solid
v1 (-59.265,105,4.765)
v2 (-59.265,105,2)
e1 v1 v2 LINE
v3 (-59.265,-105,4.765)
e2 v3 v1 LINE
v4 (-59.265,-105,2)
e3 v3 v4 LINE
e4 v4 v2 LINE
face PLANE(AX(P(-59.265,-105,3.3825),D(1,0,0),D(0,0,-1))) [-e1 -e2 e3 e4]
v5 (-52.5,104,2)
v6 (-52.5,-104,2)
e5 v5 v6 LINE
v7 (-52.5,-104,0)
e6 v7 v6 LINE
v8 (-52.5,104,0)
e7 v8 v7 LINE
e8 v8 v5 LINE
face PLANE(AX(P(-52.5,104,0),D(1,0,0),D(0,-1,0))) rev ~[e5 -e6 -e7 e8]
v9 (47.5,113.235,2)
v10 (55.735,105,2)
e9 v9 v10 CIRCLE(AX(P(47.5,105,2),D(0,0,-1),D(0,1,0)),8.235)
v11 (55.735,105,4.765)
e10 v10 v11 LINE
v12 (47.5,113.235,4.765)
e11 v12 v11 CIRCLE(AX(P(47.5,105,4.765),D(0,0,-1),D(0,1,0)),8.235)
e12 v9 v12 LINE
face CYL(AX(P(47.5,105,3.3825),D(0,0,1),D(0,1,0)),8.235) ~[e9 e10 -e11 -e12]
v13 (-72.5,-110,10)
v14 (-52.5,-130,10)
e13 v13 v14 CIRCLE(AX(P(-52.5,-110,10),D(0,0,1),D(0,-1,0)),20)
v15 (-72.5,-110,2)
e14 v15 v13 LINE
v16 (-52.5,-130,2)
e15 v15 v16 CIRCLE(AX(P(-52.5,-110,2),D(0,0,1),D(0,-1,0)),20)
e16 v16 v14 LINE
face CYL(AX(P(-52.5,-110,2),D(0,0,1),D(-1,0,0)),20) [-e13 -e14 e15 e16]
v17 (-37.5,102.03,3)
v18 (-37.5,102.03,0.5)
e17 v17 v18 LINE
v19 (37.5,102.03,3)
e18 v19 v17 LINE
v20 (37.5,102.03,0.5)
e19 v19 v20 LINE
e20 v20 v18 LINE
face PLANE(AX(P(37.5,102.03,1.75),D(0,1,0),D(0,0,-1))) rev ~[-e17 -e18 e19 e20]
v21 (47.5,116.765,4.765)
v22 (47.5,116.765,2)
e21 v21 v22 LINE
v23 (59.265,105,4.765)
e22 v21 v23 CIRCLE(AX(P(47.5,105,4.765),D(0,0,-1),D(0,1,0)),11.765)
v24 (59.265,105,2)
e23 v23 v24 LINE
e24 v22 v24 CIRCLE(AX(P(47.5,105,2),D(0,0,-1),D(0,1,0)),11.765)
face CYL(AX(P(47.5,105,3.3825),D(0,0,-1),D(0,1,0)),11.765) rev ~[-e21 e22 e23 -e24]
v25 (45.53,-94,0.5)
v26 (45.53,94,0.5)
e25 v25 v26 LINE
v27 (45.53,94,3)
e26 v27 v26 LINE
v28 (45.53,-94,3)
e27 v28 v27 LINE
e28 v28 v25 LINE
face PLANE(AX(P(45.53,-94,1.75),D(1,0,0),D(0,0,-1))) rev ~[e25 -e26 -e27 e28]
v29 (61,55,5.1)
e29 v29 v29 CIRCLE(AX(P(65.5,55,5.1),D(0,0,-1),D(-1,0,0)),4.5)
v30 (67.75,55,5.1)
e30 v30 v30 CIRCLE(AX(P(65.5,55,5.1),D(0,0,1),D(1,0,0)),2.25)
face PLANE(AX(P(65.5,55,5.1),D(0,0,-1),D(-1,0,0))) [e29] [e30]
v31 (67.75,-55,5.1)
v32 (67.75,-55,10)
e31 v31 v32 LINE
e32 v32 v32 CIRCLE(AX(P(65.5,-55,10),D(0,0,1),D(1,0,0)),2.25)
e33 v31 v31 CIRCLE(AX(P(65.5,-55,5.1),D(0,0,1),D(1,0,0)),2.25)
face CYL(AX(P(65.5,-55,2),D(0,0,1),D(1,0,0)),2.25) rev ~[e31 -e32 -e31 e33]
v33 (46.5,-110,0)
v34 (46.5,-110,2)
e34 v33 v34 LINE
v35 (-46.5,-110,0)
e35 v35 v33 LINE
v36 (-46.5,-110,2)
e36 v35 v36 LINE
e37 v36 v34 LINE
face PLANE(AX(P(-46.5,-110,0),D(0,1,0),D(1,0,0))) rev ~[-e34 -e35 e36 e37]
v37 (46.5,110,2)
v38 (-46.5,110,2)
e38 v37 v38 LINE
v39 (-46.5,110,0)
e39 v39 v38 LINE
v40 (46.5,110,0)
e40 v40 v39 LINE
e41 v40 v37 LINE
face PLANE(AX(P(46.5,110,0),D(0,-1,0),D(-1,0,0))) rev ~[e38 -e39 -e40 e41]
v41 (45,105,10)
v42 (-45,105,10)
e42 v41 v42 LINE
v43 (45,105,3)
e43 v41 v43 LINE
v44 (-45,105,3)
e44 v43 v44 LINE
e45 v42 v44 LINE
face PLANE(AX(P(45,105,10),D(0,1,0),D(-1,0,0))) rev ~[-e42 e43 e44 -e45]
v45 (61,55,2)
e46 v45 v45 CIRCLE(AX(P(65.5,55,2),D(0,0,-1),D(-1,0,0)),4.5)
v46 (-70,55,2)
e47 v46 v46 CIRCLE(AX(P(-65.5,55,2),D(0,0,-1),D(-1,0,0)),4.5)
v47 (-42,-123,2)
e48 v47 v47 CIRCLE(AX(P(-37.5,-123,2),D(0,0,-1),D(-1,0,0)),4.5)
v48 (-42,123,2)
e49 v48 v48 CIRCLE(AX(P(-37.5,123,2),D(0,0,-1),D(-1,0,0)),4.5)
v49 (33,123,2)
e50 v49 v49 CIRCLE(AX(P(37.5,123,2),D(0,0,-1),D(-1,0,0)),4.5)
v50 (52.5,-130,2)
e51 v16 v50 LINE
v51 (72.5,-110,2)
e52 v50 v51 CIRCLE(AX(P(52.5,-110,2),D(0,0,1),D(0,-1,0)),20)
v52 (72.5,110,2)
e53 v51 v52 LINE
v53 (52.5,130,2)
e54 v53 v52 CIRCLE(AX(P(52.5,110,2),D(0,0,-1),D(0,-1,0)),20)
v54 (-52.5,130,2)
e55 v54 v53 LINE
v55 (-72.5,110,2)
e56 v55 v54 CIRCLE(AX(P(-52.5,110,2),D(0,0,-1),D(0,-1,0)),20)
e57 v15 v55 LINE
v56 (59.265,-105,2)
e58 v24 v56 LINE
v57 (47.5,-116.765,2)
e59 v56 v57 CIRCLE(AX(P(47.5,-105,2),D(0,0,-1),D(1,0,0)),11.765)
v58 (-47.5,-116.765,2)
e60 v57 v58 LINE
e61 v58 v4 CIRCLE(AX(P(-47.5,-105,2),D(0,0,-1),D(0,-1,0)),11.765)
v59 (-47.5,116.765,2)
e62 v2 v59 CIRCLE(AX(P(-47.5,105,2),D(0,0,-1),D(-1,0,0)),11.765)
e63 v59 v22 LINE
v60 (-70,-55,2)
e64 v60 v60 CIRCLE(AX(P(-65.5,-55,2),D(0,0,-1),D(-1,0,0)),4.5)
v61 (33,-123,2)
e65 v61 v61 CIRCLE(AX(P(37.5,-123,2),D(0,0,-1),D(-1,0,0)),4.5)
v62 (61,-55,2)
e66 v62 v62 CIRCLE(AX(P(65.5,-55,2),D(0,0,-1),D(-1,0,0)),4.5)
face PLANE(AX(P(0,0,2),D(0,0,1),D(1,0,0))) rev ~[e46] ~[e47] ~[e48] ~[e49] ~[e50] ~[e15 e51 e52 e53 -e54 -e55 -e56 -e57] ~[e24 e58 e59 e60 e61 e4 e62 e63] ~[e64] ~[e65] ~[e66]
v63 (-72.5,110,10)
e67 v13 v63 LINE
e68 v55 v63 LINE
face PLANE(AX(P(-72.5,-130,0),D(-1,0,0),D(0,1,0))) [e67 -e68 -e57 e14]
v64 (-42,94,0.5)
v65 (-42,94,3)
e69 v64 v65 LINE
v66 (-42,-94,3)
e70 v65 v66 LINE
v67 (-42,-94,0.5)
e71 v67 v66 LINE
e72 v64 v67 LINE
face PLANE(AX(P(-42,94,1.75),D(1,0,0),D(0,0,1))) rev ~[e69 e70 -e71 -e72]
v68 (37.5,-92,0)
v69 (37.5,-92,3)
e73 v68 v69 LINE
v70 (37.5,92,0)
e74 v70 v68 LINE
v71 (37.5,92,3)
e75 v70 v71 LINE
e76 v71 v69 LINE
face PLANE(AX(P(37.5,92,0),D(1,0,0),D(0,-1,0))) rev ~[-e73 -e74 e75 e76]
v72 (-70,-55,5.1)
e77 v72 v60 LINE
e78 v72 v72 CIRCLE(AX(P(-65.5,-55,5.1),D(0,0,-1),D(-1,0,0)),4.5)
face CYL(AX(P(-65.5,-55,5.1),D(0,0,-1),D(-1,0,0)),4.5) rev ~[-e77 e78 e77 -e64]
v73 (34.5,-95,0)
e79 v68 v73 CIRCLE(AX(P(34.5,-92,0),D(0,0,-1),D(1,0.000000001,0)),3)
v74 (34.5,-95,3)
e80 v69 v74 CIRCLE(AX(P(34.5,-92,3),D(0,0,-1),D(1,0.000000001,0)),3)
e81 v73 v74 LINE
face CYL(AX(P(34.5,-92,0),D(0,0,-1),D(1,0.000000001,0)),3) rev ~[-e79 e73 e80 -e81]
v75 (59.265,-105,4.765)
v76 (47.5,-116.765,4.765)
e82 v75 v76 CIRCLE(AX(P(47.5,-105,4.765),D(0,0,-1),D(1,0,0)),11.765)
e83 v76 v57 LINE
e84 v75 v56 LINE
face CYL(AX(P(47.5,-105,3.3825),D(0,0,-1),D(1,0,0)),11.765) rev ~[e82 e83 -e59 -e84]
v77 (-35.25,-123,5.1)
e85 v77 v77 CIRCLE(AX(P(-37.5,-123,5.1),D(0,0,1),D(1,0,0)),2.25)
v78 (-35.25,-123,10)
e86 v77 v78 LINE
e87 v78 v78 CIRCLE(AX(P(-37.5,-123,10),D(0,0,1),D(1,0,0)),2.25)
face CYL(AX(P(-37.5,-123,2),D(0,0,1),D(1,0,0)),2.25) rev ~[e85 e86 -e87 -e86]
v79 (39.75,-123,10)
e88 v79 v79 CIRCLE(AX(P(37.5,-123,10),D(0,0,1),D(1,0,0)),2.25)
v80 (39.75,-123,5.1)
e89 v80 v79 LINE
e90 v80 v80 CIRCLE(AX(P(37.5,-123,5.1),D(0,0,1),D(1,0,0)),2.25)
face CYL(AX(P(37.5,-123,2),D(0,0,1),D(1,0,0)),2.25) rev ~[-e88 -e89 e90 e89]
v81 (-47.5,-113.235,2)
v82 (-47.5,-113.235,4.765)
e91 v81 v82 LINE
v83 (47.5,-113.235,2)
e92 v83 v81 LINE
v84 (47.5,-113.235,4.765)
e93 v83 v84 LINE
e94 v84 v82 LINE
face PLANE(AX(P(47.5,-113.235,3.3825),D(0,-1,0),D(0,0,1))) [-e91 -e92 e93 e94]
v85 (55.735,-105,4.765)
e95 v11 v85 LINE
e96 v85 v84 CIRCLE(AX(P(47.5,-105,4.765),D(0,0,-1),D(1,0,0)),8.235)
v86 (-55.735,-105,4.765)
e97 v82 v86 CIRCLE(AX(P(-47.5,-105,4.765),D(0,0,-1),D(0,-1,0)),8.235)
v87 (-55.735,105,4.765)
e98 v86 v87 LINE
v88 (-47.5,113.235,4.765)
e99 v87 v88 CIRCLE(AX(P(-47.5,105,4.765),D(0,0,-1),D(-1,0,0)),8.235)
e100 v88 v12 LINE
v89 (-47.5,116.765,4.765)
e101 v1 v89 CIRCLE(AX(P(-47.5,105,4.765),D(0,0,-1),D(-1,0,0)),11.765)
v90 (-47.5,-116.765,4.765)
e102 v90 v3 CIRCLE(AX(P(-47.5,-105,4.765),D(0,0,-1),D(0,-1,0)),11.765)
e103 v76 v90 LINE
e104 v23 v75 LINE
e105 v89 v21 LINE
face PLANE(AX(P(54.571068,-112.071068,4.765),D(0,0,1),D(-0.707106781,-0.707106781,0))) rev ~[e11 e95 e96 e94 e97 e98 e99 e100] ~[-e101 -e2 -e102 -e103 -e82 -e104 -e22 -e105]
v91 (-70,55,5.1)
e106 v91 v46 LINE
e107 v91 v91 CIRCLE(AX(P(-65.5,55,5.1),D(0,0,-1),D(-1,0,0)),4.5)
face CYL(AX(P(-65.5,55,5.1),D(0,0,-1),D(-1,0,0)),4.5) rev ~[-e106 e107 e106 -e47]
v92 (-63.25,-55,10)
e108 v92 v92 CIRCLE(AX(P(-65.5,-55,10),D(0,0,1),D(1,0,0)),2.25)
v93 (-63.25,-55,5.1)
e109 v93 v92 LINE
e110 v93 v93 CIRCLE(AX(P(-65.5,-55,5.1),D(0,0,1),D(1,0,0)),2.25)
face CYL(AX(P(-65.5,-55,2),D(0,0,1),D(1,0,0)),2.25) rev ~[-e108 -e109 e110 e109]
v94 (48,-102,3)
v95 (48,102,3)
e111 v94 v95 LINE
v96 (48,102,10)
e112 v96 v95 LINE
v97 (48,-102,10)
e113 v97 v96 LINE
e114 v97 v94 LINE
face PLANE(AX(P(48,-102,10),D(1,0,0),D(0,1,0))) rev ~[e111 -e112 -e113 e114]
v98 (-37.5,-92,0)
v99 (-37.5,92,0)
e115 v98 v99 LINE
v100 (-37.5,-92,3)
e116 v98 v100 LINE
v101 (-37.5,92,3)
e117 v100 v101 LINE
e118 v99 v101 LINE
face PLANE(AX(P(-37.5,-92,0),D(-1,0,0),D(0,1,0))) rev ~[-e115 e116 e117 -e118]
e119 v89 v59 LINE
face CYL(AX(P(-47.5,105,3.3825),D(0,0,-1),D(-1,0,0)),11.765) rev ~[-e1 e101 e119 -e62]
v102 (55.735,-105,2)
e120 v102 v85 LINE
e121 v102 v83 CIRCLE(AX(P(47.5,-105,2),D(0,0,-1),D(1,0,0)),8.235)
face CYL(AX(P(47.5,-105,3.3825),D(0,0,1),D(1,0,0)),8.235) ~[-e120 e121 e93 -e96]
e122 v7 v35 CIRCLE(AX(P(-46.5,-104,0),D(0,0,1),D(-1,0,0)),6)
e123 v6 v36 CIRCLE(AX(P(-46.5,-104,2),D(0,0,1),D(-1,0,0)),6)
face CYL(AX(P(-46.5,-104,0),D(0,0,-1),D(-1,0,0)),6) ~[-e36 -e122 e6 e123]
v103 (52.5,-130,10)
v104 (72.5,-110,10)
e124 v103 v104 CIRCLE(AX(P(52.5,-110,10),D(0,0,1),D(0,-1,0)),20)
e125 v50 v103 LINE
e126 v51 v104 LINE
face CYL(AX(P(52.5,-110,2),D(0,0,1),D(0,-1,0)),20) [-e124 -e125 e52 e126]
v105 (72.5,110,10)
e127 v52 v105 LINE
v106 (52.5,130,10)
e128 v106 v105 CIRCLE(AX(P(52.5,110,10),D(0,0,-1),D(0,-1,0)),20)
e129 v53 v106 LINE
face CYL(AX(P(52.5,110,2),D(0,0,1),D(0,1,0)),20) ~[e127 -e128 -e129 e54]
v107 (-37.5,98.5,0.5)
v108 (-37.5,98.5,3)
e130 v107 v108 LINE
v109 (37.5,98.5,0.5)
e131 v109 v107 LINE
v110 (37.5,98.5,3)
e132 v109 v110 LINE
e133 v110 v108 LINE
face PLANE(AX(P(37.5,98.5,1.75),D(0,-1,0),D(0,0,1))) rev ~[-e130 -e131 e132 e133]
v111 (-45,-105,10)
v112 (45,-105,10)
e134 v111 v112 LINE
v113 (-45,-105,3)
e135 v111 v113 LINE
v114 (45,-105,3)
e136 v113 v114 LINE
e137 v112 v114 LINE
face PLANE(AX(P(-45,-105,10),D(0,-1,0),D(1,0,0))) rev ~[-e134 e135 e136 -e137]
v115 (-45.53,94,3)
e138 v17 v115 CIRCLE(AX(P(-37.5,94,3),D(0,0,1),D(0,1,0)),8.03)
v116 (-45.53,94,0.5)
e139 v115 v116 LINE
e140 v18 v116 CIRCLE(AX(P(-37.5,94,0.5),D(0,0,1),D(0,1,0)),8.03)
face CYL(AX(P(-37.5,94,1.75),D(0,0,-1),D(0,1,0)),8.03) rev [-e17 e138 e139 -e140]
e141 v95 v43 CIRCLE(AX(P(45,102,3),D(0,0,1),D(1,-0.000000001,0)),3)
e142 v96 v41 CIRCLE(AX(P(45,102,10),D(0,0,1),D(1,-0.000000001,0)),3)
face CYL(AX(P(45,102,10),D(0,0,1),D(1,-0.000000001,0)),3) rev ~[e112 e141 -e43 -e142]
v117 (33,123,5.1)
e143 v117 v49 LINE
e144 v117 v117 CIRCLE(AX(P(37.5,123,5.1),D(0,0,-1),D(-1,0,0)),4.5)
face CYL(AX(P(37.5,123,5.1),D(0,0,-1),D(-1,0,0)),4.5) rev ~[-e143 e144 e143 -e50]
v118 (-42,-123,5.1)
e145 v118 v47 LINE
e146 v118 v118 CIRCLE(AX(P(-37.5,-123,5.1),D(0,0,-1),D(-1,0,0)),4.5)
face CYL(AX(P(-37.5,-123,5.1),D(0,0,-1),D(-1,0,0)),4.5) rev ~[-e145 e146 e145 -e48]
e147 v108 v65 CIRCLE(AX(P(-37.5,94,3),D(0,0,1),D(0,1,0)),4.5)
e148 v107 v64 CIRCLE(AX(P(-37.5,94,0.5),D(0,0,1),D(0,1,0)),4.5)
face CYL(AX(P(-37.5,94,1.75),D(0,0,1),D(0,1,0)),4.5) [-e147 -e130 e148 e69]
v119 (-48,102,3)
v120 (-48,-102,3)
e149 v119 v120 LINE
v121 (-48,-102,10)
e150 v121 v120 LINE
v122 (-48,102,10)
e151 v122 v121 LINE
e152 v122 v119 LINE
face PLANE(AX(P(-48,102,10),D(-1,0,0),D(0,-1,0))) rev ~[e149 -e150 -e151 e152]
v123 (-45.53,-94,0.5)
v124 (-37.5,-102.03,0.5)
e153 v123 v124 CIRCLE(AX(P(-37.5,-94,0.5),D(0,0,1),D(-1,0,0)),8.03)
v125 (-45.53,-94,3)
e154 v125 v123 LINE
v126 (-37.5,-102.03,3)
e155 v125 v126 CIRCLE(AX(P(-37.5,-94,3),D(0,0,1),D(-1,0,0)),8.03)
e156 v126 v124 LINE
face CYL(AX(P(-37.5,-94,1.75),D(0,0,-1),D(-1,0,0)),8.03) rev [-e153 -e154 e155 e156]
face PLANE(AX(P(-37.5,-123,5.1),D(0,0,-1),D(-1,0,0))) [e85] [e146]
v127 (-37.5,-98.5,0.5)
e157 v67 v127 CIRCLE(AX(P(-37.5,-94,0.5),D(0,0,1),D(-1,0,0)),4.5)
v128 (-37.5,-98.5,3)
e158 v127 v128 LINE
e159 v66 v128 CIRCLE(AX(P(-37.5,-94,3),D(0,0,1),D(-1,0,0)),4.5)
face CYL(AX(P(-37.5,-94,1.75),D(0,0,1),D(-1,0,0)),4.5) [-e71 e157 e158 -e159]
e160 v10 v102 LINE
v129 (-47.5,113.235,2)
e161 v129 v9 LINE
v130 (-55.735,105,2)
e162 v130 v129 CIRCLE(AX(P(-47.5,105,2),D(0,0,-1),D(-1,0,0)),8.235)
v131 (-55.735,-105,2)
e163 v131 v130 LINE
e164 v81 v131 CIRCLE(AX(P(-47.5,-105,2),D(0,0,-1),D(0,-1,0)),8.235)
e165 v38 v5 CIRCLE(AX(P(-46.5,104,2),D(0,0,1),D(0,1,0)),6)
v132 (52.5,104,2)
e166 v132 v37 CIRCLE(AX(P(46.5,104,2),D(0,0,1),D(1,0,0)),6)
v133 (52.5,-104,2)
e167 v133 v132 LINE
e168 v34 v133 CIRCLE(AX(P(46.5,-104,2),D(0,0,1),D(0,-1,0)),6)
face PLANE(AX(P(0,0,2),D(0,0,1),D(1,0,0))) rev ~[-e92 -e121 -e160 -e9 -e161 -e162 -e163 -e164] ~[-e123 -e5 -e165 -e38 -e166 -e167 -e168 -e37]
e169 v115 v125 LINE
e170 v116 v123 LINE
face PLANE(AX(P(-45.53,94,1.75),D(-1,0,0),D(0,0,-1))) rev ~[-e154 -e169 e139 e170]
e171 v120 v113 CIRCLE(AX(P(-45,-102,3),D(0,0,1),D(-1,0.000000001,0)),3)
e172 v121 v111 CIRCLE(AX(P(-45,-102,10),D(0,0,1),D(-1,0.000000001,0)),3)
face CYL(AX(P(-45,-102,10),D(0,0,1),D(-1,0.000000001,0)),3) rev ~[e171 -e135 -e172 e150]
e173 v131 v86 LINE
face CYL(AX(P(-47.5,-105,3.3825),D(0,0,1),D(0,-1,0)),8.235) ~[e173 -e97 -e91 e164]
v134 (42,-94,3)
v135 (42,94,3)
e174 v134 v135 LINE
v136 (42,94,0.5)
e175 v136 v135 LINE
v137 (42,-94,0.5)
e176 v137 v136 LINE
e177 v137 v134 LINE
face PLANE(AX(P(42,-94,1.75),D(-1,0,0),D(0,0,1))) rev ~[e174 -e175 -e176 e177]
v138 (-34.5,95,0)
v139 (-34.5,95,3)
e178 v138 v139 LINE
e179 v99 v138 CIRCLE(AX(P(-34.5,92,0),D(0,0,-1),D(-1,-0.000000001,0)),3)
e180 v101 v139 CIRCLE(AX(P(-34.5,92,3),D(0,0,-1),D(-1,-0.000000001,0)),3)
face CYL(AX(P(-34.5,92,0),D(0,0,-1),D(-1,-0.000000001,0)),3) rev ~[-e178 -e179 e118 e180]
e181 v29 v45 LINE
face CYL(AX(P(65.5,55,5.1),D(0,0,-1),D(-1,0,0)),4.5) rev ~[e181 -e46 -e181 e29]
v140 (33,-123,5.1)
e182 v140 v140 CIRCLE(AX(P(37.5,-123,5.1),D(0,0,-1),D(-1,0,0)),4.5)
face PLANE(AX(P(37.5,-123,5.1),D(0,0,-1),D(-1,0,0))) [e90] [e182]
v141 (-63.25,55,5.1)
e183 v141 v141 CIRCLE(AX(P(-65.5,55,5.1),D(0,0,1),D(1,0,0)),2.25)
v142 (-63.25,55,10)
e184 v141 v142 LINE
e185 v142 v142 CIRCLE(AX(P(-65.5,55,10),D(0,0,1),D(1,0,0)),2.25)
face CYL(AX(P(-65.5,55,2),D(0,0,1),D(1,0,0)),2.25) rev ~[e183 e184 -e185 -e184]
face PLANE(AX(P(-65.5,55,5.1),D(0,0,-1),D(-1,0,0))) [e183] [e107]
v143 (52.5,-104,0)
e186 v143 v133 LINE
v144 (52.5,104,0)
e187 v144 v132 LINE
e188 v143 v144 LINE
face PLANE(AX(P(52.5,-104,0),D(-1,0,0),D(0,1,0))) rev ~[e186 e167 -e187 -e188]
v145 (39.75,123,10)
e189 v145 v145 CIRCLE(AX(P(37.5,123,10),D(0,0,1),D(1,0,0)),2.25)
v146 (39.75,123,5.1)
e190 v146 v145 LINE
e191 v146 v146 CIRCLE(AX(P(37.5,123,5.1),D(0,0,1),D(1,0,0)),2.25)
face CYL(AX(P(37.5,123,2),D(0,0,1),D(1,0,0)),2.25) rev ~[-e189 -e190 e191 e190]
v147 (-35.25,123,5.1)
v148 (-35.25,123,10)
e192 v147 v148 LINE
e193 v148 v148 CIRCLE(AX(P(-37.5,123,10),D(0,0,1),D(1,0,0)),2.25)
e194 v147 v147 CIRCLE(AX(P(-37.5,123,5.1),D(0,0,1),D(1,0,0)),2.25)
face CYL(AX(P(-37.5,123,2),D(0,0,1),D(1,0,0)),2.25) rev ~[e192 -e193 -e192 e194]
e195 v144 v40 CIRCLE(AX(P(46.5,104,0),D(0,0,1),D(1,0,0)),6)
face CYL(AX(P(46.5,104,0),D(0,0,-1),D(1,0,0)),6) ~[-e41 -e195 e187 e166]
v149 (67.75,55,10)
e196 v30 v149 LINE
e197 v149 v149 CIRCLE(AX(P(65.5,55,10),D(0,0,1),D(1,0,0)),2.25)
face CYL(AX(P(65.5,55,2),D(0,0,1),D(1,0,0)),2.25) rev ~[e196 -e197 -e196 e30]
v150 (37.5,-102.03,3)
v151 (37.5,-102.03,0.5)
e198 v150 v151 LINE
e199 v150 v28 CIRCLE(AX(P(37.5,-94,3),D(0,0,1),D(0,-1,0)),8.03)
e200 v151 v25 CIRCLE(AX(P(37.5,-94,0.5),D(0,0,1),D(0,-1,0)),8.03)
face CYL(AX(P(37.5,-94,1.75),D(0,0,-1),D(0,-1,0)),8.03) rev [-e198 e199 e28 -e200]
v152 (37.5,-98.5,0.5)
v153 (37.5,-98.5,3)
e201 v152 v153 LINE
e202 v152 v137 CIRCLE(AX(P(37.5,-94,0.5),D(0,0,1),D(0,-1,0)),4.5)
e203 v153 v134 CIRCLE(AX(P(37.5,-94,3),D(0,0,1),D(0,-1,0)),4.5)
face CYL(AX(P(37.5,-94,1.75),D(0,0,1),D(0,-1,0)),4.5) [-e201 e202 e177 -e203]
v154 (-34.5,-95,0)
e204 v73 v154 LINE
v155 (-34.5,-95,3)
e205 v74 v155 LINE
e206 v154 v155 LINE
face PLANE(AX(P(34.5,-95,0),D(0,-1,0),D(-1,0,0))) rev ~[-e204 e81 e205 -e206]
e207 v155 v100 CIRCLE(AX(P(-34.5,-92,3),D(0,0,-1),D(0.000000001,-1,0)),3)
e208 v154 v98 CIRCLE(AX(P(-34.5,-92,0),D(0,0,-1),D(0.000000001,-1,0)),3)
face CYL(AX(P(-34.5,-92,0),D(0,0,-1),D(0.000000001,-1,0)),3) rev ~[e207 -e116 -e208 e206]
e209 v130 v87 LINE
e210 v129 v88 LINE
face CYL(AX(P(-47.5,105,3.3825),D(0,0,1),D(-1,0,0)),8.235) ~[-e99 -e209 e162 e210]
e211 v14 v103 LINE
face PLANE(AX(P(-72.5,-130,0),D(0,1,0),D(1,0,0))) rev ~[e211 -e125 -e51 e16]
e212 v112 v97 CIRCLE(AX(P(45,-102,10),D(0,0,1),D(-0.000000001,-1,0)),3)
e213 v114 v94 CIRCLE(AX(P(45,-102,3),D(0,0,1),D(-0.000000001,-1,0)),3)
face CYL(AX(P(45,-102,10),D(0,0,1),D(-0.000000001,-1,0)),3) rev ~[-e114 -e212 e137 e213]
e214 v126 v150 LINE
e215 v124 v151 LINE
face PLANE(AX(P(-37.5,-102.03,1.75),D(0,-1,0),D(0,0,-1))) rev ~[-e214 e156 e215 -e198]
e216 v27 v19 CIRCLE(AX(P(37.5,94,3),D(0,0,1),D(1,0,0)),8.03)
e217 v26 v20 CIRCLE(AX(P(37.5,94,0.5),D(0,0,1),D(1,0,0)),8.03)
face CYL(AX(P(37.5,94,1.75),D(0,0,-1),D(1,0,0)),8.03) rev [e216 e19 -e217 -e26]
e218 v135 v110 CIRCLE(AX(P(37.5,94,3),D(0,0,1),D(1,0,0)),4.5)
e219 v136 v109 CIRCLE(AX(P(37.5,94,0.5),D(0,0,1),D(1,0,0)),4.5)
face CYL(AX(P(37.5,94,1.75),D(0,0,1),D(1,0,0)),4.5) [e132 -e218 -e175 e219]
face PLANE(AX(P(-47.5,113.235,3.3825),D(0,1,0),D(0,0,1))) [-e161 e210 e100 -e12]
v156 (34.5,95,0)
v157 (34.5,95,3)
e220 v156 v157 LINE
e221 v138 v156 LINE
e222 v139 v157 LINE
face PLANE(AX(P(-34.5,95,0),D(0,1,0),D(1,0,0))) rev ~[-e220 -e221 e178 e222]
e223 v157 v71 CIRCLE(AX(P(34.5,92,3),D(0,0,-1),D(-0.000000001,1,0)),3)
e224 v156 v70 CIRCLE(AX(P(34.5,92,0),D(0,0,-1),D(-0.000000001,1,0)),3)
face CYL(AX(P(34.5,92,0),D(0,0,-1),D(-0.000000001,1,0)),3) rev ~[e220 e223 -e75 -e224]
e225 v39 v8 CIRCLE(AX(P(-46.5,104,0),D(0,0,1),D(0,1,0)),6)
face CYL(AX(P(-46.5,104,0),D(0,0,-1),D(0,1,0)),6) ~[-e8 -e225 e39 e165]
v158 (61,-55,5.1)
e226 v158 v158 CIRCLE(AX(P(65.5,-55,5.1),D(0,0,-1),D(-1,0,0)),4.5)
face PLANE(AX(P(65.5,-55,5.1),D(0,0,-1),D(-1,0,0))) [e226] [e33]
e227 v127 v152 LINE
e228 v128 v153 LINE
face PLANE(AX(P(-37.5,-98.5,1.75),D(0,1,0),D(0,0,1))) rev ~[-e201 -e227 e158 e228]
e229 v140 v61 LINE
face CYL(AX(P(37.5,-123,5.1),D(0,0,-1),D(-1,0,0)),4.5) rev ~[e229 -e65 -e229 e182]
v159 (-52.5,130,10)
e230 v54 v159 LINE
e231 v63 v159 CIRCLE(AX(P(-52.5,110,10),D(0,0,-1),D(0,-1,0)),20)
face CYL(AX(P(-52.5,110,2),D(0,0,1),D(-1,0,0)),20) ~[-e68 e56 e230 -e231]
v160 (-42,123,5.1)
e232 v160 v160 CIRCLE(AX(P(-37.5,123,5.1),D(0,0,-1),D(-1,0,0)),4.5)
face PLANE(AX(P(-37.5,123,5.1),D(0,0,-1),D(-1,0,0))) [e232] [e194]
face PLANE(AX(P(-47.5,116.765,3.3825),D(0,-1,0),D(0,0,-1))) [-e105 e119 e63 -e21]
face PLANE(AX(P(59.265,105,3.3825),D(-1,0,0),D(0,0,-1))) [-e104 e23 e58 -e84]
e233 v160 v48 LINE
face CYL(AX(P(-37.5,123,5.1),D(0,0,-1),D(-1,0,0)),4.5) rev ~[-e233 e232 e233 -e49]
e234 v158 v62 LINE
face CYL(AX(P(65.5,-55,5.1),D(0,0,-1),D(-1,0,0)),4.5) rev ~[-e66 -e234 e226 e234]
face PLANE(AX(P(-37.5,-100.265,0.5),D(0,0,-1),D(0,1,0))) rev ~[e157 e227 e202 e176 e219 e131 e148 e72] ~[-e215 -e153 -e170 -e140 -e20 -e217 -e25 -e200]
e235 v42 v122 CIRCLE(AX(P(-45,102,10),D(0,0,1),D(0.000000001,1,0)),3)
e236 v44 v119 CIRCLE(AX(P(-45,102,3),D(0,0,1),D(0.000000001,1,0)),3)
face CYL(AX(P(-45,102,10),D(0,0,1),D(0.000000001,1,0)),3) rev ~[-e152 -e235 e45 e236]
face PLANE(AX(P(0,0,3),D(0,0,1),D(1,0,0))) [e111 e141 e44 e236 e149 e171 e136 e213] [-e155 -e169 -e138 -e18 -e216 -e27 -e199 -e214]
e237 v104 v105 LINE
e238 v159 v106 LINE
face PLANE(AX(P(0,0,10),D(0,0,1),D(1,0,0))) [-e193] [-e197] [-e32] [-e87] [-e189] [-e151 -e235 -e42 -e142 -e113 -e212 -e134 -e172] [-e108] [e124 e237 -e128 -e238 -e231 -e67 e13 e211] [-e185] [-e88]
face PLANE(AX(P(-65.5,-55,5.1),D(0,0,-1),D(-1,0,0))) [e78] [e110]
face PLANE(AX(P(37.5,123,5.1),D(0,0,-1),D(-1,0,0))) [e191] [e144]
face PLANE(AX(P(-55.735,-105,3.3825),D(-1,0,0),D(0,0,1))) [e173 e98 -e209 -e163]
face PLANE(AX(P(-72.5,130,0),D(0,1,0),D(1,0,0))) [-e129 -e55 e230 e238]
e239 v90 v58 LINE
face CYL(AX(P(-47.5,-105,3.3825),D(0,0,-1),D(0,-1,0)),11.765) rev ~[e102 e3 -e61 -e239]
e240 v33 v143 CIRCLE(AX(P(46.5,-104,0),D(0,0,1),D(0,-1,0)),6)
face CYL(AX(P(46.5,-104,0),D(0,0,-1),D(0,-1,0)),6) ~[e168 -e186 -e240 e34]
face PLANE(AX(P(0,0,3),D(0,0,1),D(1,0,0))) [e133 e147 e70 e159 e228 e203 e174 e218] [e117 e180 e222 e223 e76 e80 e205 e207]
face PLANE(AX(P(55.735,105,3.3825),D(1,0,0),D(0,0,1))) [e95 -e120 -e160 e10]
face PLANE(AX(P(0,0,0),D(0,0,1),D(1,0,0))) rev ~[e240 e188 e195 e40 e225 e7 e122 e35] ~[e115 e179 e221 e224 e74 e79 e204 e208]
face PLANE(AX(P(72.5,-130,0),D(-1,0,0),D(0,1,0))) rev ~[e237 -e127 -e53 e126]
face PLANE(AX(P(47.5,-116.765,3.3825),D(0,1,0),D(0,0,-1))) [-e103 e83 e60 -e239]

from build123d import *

# Parameters (mm, degrees)
ESBO_O1_W                                           = 145
ESBO_O1_H                                           = 260
RESSALTO_EXTRUS_O1_DEPTH                            = 10
ESBO_O2_W                                           = 145
ESBO_O2_H                                           = 260
CORTE_EXTRUS_O3_DEPTH                               = 2
CORTE_EXTRUS_O4_DEPTH                               = 150.185287478
REBAIXO_PARA_PARAFUSO_COM_CABE_A_PANELA_D           = 4.5
REBAIXO_PARA_PARAFUSO_COM_CABE_A_PANELA_CBORE_D     = 9
REBAIXO_PARA_PARAFUSO_COM_CABE_A_PANELA_CBORE_DEPTH = 3.1
CORTE_EXTRUS_O5_DEPTH                               = 7
ESBO_O4_W                                           = 3.53
ESBO_O4_H                                           = 2.765
ESBO_O13_W                                          = 3.53
ESBO_O13_H                                          = 2.5
FILETE1_R                                           = 20


with BuildPart() as part:
    # Esboço1 → Ressalto-extrusão1 (new body)
    with BuildSketch(Plane.XY):
        Rectangle(ESBO_O1_W, ESBO_O1_H)
    extrude(amount=RESSALTO_EXTRUS_O1_DEPTH)

    # Esboço2 → Corte-extrusão3 (cut)
    with BuildSketch(Plane.XY):
        Rectangle(ESBO_O2_W, ESBO_O2_H)
        with BuildLine():
            Line((-46.5, -110), (46.5, -110))
            ThreePointArc((46.5, -110), (50.742640687, -108.242640687), (52.5, -104))
            Line((52.5, -104), (52.5, 104))
            ThreePointArc((52.5, 104), (50.742640687, 108.242640687), (46.5, 110))
            Line((46.5, 110), (-46.5, 110))
            ThreePointArc((-46.5, 110), (-50.742640687, 108.242640687), (-52.5, 104))
            Line((-52.5, 104), (-52.5, -104))
            ThreePointArc((-52.5, -104), (-50.742640687, -108.242640687), (-46.5, -110))
        make_face(mode=Mode.SUBTRACT)
    extrude(amount=CORTE_EXTRUS_O3_DEPTH, mode=Mode.SUBTRACT)

    # Esboço5 → Corte-extrusão4 (cut, through all)
    with BuildSketch(Plane(origin=(0, 0, 0), x_dir=(-1, 0, 0), z_dir=(0, 0, -1))):
        with BuildLine():
            Line((-34.5, -95), (34.5, -95))
            ThreePointArc((34.5, -95), (36.621320344, -94.121320344), (37.5, -92))
            Line((37.5, -92), (37.5, 92))
            ThreePointArc((37.5, 92), (36.621320344, 94.121320344), (34.5, 95))
            Line((34.5, 95), (-34.5, 95))
            ThreePointArc((-34.5, 95), (-36.621320344, 94.121320344), (-37.5, 92))
            Line((-37.5, 92), (-37.5, -92))
            ThreePointArc((-37.5, -92), (-36.621320344, -94.121320344), (-34.5, -95))
        make_face()
    extrude(amount=-CORTE_EXTRUS_O4_DEPTH, mode=Mode.SUBTRACT)

    # Rebaixo para parafuso com cabeça panela de M41 (through all)
    with Locations(Plane(origin=(0, 0, 2), x_dir=(-1, 0, 0), z_dir=(0, 0, -1))):
        with Locations((-37.5, 123), (37.5, 123), (65.5, 55), (65.5, -55), (37.5, -123), (-37.5, -123), (-65.5, -55), (-65.5, 55)):
            CounterBoreHole(REBAIXO_PARA_PARAFUSO_COM_CABE_A_PANELA_D / 2, REBAIXO_PARA_PARAFUSO_COM_CABE_A_PANELA_CBORE_D / 2, REBAIXO_PARA_PARAFUSO_COM_CABE_A_PANELA_CBORE_DEPTH)

    # Esboço9 → Corte-extrusão5 (cut)
    with BuildSketch(Plane.XY.offset(10)):
        with BuildLine():
            Line((-45, -105), (45, -105))
            ThreePointArc((45, -105), (47.121320344, -104.121320344), (48, -102))
            Line((48, -102), (48, 102))
            ThreePointArc((48, 102), (47.121320344, 104.121320344), (45, 105))
            Line((45, 105), (-45, 105))
            ThreePointArc((-45, 105), (-47.121320344, 104.121320344), (-48, 102))
            Line((-48, 102), (-48, -102))
            ThreePointArc((-48, -102), (-47.121320344, -104.121320344), (-45, -105))
        make_face()
    extrude(amount=-CORTE_EXTRUS_O5_DEPTH, mode=Mode.SUBTRACT)

    # Varredura de corte3: sweep along a path in Esboço14
    with BuildLine(Plane(origin=(0, 0, 2), x_dir=(-1, 0, 0), z_dir=(0, 0, -1))) as varredura_de_corte3_path:
        Line((-47.5, -115), (47.5, -115))
        ThreePointArc((47.5, -115), (54.571067812, -112.071067812), (57.5, -105))
        Line((57.5, -105), (57.5, 105))
        ThreePointArc((57.5, 105), (54.571067812, 112.071067812), (47.5, 115))
        Line((47.5, 115), (-47.5, 115))
        ThreePointArc((-47.5, 115), (-54.571067812, 112.071067812), (-57.5, 105))
        Line((-57.5, 105), (-57.5, -105))
        ThreePointArc((-57.5, -105), (-54.571067812, -112.071067812), (-47.5, -115))
    # Esboço4 → Varredura de corte3 (sweep, cut)
    with BuildSketch(Plane(origin=(0, 0, 0), x_dir=(1, 0, 0), z_dir=(0, 1, 0))):
        with Locations((57.5, -3.3825)):
            Rectangle(ESBO_O4_W, ESBO_O4_H)
    sweep(path=varredura_de_corte3_path.line, mode=Mode.SUBTRACT)

    # Varredura de corte2: sweep along a path in Esboço11
    with BuildLine(Plane.XY.offset(3)) as varredura_de_corte2_path:
        Line((-37.5, -100), (37.5, -100))
        ThreePointArc((37.5, -100), (41.742640687, -98.242640687), (43.5, -94))
        Line((43.5, -94), (43.5, 94))
        ThreePointArc((43.5, 94), (41.742640687, 98.242640687), (37.5, 100))
        Line((37.5, 100), (-37.5, 100))
        ThreePointArc((-37.5, 100), (-41.742640687, 98.242640687), (-43.5, 94))
        Line((-43.5, 94), (-43.5, -94))
        ThreePointArc((-43.5, -94), (-41.742640687, -98.242640687), (-37.5, -100))
    # Esboço13 → Varredura de corte2 (sweep, cut)
    with BuildSketch(Plane(origin=(0, 0, 0), x_dir=(1, 0, 0), z_dir=(0, 1, 0))):
        with Locations((43.765, -1.75)):
            Rectangle(ESBO_O13_W, ESBO_O13_H)
    sweep(path=varredura_de_corte2_path.line, mode=Mode.SUBTRACT)

    # Filete1
    filete1_edges = [part.edges().sort_by_distance(p)[0] for p in [
        (72.5, -130, 6),
        (-72.5, -130, 6),
        (-72.5, 130, 6),
        (72.5, 130, 6),
    ]]
    fillet(filete1_edges, radius=FILETE1_R)


solid = part.part
